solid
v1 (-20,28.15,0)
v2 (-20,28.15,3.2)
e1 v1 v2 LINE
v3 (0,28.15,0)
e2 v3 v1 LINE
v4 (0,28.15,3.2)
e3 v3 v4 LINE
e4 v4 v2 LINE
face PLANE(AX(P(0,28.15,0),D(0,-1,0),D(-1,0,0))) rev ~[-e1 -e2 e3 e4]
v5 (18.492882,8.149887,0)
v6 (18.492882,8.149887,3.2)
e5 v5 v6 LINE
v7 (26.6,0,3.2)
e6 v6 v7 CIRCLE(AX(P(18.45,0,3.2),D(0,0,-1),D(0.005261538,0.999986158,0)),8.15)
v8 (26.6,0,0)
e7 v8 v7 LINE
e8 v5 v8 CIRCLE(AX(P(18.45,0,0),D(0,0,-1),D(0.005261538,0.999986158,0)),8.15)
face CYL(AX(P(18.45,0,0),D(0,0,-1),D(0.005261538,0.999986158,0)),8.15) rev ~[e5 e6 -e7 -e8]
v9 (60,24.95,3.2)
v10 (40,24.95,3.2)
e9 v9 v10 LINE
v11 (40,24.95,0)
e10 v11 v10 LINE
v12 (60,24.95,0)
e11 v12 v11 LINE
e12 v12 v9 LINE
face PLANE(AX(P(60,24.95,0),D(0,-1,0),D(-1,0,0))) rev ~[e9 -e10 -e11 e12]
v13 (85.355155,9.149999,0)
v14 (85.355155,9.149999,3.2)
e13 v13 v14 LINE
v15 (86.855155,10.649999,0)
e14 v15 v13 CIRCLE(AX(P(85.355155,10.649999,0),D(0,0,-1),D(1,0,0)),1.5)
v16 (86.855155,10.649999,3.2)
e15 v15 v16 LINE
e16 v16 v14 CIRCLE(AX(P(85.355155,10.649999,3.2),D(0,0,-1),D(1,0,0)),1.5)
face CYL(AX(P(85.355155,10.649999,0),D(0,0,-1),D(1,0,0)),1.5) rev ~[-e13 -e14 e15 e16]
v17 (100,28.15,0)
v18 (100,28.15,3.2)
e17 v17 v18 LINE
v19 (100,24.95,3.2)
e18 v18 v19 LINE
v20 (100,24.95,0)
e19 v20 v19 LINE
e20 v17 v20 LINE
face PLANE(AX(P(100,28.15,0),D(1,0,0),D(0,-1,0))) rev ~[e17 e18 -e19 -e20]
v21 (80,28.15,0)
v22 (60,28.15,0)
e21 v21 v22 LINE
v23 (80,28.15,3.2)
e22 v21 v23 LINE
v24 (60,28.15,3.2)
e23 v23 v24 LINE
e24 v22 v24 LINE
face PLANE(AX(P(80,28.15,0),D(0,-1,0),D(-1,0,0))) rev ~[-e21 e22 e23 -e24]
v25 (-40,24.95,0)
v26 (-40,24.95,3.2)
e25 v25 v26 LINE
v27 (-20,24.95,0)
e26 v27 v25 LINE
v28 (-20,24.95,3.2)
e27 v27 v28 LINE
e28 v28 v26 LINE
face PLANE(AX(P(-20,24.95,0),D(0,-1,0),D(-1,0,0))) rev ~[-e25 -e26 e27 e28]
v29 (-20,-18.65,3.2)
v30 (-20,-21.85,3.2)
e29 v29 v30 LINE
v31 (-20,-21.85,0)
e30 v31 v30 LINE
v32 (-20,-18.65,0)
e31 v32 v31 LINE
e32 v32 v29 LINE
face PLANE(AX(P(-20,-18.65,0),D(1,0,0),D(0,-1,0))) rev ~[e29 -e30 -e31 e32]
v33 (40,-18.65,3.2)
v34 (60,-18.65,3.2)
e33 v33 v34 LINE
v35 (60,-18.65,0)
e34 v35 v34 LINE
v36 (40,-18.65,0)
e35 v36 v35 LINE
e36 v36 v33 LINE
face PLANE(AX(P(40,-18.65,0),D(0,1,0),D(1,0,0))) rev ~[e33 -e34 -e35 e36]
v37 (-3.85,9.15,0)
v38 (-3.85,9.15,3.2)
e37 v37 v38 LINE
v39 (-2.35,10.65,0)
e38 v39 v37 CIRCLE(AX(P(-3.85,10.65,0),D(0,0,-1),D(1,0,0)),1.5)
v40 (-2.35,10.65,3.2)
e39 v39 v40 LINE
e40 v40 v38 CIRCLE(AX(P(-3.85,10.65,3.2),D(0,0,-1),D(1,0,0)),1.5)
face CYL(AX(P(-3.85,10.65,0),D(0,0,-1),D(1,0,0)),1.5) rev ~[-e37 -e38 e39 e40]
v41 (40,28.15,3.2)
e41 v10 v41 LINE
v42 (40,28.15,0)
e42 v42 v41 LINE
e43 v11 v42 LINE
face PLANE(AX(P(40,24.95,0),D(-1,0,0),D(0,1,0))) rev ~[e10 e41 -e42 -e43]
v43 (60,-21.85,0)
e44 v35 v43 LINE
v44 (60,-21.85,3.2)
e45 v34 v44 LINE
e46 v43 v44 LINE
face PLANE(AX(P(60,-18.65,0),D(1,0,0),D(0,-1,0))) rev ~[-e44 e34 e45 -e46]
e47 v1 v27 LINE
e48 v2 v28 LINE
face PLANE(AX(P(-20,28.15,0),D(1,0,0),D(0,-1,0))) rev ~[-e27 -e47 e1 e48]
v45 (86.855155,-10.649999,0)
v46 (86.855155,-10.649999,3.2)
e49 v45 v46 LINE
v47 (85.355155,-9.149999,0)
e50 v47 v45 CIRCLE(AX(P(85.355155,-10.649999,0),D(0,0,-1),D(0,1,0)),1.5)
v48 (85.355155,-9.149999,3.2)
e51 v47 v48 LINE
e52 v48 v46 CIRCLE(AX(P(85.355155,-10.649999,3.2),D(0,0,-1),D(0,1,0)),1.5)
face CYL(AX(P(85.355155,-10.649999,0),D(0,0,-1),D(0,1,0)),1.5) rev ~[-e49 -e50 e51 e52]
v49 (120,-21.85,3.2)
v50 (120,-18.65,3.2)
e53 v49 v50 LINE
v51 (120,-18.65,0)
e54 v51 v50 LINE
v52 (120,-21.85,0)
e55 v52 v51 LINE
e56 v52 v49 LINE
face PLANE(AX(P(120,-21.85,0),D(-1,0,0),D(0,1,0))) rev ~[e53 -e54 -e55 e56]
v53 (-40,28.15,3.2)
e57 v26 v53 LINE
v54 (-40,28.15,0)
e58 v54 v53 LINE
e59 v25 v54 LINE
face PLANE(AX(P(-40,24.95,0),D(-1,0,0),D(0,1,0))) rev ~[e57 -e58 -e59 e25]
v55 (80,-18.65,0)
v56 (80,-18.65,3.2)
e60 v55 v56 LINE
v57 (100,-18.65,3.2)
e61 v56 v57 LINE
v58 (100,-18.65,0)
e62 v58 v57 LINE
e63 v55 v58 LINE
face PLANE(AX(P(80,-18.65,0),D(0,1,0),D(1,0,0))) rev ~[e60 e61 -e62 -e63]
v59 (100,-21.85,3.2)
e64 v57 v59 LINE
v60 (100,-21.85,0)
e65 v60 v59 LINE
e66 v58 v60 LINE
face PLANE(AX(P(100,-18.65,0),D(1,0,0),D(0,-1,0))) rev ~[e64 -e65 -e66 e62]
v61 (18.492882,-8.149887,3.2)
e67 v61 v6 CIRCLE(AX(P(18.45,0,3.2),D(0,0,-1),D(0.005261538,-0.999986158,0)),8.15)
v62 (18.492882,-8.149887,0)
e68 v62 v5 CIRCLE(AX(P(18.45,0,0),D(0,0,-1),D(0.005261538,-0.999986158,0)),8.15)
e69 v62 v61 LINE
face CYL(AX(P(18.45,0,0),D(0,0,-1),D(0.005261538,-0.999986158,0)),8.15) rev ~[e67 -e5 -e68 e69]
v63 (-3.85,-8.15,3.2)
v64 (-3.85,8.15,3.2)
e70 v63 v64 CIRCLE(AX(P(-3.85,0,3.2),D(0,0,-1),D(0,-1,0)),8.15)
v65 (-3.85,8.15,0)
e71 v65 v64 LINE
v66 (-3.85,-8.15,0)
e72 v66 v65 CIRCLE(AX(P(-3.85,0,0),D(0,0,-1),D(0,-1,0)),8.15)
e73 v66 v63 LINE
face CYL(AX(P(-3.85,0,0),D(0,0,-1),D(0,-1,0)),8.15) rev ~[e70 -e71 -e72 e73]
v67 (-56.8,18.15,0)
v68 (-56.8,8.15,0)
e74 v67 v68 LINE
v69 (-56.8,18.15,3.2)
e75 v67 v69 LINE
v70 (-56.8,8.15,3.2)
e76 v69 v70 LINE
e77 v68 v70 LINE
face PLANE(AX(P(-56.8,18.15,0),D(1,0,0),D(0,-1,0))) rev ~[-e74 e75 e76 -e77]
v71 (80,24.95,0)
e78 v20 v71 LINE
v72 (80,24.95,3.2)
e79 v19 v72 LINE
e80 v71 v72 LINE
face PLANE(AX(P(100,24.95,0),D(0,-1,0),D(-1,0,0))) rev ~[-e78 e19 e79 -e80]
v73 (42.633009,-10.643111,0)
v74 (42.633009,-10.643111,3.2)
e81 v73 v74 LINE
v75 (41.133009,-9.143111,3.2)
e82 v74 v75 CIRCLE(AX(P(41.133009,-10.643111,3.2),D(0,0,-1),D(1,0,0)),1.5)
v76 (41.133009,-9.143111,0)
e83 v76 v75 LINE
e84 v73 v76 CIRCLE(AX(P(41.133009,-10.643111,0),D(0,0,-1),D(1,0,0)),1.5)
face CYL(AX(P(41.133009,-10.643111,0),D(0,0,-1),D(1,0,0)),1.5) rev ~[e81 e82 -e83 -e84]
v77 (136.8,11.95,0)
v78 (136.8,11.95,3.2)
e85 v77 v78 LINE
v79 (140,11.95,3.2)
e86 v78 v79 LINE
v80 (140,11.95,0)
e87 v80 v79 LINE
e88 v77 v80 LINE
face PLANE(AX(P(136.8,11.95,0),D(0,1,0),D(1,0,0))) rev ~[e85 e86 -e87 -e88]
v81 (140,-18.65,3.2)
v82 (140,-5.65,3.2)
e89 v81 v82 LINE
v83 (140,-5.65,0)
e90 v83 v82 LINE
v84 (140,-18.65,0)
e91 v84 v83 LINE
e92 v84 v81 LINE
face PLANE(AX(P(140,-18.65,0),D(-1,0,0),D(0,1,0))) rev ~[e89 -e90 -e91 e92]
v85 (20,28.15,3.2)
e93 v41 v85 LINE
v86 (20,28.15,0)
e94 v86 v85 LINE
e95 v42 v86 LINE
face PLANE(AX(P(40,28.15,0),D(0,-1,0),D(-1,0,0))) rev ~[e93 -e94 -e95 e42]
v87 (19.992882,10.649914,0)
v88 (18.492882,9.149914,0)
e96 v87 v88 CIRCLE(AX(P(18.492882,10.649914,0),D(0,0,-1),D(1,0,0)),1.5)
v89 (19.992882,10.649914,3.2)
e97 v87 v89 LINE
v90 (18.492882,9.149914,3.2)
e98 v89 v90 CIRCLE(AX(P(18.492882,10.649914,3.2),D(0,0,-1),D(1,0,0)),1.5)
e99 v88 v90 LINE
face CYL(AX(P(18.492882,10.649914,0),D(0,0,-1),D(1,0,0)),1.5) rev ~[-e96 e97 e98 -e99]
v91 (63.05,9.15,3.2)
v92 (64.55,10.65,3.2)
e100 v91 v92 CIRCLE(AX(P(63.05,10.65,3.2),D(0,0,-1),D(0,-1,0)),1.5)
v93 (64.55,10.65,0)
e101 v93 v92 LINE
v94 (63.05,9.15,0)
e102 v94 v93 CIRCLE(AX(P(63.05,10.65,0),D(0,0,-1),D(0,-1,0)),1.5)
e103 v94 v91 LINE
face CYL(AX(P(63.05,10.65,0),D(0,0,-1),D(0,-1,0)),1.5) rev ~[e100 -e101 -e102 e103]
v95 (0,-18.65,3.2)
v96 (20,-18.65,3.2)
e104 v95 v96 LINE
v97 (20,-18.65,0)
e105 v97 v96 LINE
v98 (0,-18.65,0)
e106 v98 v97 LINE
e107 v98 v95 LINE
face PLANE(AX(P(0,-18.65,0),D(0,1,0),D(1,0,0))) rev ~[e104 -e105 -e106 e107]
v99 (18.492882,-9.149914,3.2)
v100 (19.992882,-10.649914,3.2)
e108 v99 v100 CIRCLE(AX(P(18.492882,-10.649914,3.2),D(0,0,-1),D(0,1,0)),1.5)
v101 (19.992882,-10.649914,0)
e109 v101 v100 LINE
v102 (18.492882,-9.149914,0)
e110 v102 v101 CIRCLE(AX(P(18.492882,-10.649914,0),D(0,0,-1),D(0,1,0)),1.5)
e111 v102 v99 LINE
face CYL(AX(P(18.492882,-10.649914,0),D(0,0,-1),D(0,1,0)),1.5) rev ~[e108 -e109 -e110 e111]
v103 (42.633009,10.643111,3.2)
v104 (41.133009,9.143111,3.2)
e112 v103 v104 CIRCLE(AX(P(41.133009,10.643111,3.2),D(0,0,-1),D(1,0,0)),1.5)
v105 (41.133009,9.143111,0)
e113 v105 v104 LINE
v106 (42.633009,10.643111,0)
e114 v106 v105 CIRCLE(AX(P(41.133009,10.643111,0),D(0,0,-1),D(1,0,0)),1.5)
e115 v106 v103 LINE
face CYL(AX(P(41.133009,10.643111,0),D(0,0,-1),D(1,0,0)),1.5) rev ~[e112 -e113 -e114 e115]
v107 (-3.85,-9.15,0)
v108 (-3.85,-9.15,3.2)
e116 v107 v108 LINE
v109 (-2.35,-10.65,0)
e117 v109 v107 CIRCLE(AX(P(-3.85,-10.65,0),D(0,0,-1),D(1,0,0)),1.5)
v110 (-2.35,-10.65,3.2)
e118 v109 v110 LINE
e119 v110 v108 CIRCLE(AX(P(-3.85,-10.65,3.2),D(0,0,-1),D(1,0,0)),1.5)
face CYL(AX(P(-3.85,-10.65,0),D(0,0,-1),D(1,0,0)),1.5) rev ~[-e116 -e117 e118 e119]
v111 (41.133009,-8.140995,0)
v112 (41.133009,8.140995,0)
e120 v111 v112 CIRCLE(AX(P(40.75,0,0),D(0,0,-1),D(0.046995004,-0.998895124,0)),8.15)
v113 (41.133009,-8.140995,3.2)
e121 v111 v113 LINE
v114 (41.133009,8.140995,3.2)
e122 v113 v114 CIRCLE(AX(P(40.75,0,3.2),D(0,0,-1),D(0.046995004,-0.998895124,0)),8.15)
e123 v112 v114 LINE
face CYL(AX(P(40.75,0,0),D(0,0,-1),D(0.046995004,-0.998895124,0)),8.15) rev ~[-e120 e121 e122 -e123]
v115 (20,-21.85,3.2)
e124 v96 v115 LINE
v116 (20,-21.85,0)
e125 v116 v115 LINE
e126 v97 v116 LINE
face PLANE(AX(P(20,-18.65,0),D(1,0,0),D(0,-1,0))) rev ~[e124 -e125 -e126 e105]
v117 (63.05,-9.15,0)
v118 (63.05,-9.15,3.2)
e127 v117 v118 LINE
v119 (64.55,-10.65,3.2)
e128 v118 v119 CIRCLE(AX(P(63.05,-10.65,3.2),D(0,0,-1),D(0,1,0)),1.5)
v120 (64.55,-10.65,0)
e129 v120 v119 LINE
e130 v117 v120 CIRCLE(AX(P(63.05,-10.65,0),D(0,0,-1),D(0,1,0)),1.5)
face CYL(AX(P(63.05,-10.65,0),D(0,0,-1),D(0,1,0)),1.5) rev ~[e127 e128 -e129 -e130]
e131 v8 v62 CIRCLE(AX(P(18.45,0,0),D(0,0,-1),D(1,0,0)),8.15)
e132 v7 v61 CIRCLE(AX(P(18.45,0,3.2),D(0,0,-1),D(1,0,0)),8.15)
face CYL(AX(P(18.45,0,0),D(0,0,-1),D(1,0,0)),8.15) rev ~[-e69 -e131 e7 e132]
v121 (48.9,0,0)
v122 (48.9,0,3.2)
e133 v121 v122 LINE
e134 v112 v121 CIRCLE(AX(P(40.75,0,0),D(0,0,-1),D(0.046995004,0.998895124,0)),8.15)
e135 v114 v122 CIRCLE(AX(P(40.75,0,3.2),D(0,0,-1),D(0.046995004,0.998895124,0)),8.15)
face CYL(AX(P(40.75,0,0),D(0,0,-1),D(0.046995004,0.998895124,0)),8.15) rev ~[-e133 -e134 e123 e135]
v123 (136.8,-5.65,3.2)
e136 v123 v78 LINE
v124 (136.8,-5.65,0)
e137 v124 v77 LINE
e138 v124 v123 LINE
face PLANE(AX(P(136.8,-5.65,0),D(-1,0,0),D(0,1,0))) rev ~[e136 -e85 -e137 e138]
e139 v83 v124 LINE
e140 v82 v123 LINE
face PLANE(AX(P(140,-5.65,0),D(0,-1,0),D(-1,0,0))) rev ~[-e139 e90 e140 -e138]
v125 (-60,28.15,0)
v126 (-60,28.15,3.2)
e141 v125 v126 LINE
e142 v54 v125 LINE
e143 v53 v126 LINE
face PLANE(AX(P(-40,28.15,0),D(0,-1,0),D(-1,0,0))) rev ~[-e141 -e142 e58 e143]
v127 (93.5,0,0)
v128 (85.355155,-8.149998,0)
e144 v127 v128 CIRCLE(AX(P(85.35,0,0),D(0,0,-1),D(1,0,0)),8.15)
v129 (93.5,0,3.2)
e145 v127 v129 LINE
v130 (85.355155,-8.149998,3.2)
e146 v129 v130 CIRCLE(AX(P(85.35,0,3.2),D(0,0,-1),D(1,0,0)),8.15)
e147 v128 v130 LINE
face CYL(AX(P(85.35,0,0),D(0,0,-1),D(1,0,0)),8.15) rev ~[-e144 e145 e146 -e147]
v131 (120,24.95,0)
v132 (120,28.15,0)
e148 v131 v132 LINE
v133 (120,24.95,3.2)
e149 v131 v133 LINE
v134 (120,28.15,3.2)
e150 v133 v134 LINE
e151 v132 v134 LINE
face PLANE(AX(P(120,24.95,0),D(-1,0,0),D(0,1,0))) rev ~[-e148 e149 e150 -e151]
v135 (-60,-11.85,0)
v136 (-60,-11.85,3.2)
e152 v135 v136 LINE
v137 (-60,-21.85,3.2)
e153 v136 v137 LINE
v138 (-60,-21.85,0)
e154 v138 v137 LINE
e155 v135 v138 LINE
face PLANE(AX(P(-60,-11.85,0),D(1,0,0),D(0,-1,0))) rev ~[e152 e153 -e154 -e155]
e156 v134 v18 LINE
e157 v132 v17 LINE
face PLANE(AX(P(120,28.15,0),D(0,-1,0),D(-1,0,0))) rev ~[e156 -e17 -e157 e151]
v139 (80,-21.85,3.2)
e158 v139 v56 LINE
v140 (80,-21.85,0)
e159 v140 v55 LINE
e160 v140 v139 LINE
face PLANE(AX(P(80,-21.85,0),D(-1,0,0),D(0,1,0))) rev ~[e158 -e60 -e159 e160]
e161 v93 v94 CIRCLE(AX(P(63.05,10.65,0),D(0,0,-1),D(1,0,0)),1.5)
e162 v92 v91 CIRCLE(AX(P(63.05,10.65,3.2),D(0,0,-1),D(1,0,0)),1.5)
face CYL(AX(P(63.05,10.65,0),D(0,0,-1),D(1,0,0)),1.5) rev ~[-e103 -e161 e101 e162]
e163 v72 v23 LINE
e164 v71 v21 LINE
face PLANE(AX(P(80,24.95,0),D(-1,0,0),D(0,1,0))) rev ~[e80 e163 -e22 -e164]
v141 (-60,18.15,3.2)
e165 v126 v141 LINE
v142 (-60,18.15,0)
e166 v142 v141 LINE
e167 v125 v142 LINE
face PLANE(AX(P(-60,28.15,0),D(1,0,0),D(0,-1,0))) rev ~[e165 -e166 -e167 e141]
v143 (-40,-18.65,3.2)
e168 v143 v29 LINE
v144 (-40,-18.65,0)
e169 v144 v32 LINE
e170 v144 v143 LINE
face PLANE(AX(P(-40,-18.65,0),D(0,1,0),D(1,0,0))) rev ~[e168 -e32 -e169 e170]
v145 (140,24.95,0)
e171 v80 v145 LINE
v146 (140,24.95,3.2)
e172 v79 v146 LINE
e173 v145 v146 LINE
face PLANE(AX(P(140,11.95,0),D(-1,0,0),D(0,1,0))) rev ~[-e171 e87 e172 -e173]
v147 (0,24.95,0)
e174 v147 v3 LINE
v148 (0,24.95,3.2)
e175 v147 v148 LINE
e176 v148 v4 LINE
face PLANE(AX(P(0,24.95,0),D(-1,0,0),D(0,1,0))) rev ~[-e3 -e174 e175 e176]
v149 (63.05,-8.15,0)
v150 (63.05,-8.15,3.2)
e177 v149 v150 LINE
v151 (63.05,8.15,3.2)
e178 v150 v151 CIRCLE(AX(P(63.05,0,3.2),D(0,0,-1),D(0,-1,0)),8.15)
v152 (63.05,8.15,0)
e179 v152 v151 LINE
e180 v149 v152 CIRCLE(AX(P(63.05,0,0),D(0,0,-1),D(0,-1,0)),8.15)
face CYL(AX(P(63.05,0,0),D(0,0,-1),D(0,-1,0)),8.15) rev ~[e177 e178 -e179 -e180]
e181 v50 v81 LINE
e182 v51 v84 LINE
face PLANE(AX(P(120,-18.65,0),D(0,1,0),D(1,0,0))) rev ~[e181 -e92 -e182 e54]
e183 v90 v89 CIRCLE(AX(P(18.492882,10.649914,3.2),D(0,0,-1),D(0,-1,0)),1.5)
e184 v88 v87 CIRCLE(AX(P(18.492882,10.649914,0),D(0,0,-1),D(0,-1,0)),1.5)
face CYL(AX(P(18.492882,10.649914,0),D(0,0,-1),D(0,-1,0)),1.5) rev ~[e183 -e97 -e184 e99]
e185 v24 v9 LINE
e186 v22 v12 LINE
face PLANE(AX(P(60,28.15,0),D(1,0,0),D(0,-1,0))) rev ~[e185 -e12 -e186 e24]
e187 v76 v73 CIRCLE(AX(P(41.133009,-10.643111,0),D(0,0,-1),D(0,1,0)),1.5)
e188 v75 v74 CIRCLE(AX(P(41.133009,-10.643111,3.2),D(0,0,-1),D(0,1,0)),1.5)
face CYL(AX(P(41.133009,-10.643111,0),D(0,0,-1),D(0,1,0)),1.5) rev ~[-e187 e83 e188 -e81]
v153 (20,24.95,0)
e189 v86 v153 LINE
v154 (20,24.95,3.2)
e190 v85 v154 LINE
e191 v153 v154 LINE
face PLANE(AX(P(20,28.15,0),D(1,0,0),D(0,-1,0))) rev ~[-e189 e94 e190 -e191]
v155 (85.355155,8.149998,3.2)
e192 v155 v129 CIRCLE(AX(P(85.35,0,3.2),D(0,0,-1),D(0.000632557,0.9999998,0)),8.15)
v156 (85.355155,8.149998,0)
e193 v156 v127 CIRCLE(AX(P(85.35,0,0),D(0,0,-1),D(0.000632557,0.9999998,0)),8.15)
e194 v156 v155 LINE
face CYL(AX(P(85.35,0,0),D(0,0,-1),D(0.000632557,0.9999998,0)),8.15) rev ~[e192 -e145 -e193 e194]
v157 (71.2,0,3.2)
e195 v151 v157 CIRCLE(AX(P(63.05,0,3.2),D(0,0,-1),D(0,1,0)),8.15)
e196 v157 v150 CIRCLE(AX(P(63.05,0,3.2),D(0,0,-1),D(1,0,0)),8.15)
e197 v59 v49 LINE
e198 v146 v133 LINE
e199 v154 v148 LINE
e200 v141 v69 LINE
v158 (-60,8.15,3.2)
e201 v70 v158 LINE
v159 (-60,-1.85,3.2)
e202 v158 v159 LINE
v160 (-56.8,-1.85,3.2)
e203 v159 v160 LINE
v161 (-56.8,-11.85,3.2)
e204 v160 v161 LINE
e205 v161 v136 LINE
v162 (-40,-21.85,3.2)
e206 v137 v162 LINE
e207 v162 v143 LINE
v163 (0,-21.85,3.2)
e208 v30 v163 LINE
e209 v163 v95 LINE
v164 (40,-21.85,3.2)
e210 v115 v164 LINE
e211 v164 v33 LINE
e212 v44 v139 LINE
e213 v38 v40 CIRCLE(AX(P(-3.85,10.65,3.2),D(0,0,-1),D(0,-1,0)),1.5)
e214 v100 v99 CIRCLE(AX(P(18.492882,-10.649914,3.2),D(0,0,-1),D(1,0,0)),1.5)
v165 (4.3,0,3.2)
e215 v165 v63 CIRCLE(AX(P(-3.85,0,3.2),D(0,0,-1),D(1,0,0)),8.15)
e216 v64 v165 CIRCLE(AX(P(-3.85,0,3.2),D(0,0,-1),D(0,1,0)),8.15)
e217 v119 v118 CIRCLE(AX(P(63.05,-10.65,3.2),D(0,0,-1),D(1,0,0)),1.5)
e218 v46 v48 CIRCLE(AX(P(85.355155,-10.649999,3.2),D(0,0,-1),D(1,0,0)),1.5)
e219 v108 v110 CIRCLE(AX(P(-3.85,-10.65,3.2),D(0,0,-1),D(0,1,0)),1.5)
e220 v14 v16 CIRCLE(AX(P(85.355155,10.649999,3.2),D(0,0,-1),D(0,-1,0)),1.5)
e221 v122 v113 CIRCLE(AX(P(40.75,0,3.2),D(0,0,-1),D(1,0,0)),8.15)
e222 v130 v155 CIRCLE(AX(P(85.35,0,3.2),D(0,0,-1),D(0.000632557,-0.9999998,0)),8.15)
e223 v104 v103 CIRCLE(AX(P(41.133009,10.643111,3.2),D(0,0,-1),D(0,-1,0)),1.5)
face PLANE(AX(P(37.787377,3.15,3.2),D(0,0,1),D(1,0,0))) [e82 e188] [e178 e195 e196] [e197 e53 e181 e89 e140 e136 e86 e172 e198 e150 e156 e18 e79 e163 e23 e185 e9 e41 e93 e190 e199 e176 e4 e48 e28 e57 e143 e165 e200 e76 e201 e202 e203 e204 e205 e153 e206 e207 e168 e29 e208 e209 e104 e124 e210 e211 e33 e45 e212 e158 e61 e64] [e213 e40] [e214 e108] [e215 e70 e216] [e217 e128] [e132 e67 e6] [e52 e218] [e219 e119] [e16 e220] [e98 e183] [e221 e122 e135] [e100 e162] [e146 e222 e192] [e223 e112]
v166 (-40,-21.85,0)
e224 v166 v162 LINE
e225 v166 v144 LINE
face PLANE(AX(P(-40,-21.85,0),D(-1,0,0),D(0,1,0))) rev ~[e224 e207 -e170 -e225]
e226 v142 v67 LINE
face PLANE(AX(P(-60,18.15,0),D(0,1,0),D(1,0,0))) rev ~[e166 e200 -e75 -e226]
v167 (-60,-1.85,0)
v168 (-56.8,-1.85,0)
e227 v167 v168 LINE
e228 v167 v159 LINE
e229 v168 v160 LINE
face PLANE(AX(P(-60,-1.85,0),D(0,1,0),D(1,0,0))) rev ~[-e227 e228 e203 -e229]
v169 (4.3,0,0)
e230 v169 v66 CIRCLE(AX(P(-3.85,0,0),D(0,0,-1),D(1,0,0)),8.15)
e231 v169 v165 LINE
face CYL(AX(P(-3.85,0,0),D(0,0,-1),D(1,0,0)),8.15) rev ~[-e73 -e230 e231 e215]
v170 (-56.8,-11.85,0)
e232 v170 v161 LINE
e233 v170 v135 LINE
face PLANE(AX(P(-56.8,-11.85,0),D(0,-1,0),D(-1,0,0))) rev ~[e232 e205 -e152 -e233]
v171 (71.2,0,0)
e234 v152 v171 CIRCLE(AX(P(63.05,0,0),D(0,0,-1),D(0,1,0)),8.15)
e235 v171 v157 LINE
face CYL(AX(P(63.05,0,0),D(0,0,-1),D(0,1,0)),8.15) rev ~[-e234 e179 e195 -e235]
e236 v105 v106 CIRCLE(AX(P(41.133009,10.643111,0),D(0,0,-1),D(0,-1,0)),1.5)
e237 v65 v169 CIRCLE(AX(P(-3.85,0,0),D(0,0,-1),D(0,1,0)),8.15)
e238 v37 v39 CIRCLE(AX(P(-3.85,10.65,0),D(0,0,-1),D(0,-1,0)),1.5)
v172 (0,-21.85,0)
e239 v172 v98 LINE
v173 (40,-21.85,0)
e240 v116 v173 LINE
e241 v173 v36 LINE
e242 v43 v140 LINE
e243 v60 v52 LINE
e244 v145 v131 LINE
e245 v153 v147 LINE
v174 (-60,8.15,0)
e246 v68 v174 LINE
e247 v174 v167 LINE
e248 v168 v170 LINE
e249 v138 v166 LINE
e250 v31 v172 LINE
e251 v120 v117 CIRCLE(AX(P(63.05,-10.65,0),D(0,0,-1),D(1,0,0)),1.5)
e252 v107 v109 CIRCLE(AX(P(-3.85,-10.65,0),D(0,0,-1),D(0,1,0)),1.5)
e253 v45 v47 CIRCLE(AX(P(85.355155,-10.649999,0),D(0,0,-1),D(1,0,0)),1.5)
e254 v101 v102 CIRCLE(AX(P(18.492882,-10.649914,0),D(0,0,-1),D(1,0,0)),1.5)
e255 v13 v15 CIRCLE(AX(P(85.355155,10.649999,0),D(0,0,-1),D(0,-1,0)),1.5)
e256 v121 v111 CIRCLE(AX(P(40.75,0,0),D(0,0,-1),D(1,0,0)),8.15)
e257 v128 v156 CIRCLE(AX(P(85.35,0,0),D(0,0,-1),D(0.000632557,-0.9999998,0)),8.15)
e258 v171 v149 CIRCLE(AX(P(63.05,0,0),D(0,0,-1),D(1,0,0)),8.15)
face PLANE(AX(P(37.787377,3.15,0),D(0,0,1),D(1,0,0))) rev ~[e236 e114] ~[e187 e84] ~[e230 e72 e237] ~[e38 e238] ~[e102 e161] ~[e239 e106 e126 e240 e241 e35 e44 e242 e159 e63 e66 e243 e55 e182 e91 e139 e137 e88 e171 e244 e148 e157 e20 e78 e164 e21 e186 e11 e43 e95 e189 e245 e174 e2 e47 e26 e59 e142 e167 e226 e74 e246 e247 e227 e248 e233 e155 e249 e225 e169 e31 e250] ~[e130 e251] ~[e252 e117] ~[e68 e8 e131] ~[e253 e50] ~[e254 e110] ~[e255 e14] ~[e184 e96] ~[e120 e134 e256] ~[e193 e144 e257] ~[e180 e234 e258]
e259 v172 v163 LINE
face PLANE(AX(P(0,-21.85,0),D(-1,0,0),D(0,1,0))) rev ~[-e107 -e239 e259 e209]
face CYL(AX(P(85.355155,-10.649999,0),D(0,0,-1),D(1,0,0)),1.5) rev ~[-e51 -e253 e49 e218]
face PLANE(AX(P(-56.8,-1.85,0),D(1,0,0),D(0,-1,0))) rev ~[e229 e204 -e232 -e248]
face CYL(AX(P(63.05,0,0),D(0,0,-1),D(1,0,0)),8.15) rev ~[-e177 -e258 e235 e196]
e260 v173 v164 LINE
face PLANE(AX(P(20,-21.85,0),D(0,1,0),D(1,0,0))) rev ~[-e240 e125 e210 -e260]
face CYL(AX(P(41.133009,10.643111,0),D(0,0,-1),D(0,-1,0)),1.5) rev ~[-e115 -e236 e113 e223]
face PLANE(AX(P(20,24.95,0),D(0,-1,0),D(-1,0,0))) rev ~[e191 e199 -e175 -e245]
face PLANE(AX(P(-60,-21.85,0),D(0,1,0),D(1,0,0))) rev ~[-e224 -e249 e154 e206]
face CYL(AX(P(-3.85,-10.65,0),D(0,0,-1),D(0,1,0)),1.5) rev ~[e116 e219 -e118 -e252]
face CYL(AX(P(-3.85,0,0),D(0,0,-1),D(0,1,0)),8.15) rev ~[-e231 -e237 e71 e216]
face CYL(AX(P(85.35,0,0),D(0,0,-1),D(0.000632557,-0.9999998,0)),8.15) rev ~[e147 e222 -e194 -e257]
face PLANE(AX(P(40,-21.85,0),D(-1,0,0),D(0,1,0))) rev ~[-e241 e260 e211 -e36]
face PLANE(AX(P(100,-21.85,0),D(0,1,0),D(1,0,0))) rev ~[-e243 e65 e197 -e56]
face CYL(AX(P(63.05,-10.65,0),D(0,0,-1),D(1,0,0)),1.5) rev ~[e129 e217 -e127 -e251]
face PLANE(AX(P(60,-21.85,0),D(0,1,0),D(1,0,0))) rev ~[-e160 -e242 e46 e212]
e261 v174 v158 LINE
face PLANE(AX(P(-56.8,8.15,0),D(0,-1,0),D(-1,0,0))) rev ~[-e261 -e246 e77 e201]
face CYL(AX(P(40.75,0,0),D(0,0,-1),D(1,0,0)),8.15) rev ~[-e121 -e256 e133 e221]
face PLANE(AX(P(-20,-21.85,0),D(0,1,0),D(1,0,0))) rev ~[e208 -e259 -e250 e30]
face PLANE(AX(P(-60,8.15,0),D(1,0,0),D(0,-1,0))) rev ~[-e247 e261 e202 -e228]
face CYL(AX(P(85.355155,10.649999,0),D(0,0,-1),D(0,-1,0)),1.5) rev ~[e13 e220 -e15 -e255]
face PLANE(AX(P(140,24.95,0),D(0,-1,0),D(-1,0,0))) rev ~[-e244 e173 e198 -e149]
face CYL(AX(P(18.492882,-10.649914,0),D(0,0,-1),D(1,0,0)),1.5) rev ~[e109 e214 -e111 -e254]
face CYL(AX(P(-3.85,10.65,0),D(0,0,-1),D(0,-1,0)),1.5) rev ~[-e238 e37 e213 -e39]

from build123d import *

# Parameters (mm, degrees)
F1_DEPTH = 3.2


with BuildPart() as f1:
    # F0 (on Top) → F1 (new body)
    with BuildSketch(Plane.XY):
        Polygon((-40, 28.15), (-60, 28.15), (-60, 18.15), (-56.8, 18.15), (-56.8, 8.15), (-60, 8.15), (-60, -1.85), (-56.8, -1.85), (-56.8, -11.85), (-60, -11.85), (-60, -21.85), (-40, -21.85), (-40, -18.65), (-20, -18.65), (-20, -21.85), (0, -21.85), (0, -18.65), (20, -18.65), (20, -21.85), (40, -21.85), (40, -18.65), (60, -18.65), (60, -21.85), (80, -21.85), (80, -18.65), (100, -18.65), (100, -21.85), (120, -21.85), (120, -18.65), (140, -18.65), (140, -5.65), (136.8, -5.65), (136.8, 11.95), (140, 11.95), (140, 24.95), (120, 24.95), (120, 28.15), (100, 28.15), (100, 24.95), (80, 24.95), (80, 28.15), (60, 28.15), (60, 24.95), (40, 24.95), (40, 28.15), (20, 28.15), (20, 24.95), (0, 24.95), (0, 28.15), (-20, 28.15), (-20, 24.95), (-40, 24.95), align=None)
        with BuildLine():
            ThreePointArc((-2.35, -10.65), (-4.9106601718, -11.7106601718), (-3.85, -9.15))
            ThreePointArc((-3.85, -9.15), (-2.7893398282, -9.5893398282), (-2.35, -10.65))
        make_face(mode=Mode.SUBTRACT)
        with BuildLine():
            ThreePointArc((19.9928815383, -10.6499136698), (17.4322213665, -11.7105738416), (18.4928815383, -9.1499136698))
            ThreePointArc((18.4928815383, -9.1499136698), (19.55354171, -9.589253498), (19.9928815383, -10.6499136698))
        make_face(mode=Mode.SUBTRACT)
        with BuildLine():
            ThreePointArc((-3.85, 8.15), (1.9129202667, 5.7629202667), (4.3, 0))
            ThreePointArc((4.3, 0), (1.9129202667, -5.7629202667), (-3.85, -8.15))
            ThreePointArc((-3.85, -8.15), (-12, 0), (-3.85, 8.15))
        make_face(mode=Mode.SUBTRACT)
        with BuildLine():
            ThreePointArc((18.4928815383, 8.1498871878), (24.2280612898, 5.7477393584), (26.6, 0))
            ThreePointArc((26.6, 0), (24.2280612898, -5.7477393584), (18.4928815383, -8.1498871878))
            ThreePointArc((18.4928815383, -8.1498871878), (10.3, 0), (18.4928815383, 8.1498871878))
        make_face(mode=Mode.SUBTRACT)
        with BuildLine():
            ThreePointArc((42.6330092816, -10.6431106304), (40.0723491098, -11.7037708021), (41.1330092816, -9.1431106304))
            ThreePointArc((41.1330092816, -9.1431106304), (42.1936694534, -9.5824504586), (42.6330092816, -10.6431106304))
        make_face(mode=Mode.SUBTRACT)
        with BuildLine():
            ThreePointArc((64.55, -10.65), (61.9893398282, -11.7106601718), (63.05, -9.15))
            ThreePointArc((63.05, -9.15), (64.1106601718, -9.5893398282), (64.55, -10.65))
        make_face(mode=Mode.SUBTRACT)
        with BuildLine():
            ThreePointArc((86.8551553416, -10.6499987522), (84.2944951698, -11.710658924), (85.3551553416, -9.1499987522))
            ThreePointArc((85.3551553416, -9.1499987522), (86.4158155134, -9.5893385804), (86.8551553416, -10.6499987522))
        make_face(mode=Mode.SUBTRACT)
        with BuildLine():
            ThreePointArc((41.1330092816, 8.1409952641), (46.6467798689, 5.6258765697), (48.9, 0))
            ThreePointArc((48.9, 0), (46.6467798689, -5.6258765697), (41.1330092816, -8.1409952641))
            ThreePointArc((41.1330092816, -8.1409952641), (32.6, 0), (41.1330092816, 8.1409952641))
        make_face(mode=Mode.SUBTRACT)
        with BuildLine():
            ThreePointArc((63.05, 8.15), (68.8129202667, 5.7629202667), (71.2, 0))
            ThreePointArc((71.2, 0), (68.8129202667, -5.7629202667), (63.05, -8.15))
            ThreePointArc((63.05, -8.15), (54.9, 0), (63.05, 8.15))
        make_face(mode=Mode.SUBTRACT)
        with BuildLine():
            ThreePointArc((85.3551553416, 8.1499983695), (91.114742667, 5.7610972898), (93.5, 0))
            ThreePointArc((93.5, 0), (91.114742667, -5.7610972898), (85.3551553416, -8.1499983695))
            ThreePointArc((85.3551553416, -8.1499983695), (77.2, 0), (85.3551553416, 8.1499983695))
        make_face(mode=Mode.SUBTRACT)
        with BuildLine():
            ThreePointArc((-2.35, 10.65), (-2.7893398282, 9.5893398282), (-3.85, 9.15))
            ThreePointArc((-3.85, 9.15), (-4.9106601718, 11.7106601718), (-2.35, 10.65))
        make_face(mode=Mode.SUBTRACT)
        with BuildLine():
            ThreePointArc((19.9928815383, 10.6499136698), (19.55354171, 9.589253498), (18.4928815383, 9.1499136698))
            ThreePointArc((18.4928815383, 9.1499136698), (17.4322213665, 11.7105738416), (19.9928815383, 10.6499136698))
        make_face(mode=Mode.SUBTRACT)
        with BuildLine():
            ThreePointArc((42.6330092816, 10.6431106304), (42.1936694534, 9.5824504586), (41.1330092816, 9.1431106304))
            ThreePointArc((41.1330092816, 9.1431106304), (40.0723491098, 11.7037708021), (42.6330092816, 10.6431106304))
        make_face(mode=Mode.SUBTRACT)
        with BuildLine():
            ThreePointArc((64.55, 10.65), (64.1106601718, 9.5893398282), (63.05, 9.15))
            ThreePointArc((63.05, 9.15), (61.9893398282, 11.7106601718), (64.55, 10.65))
        make_face(mode=Mode.SUBTRACT)
        with BuildLine():
            ThreePointArc((86.8551553416, 10.6499987522), (86.4158155134, 9.5893385804), (85.3551553416, 9.1499987522))
            ThreePointArc((85.3551553416, 9.1499987522), (84.2944951698, 11.710658924), (86.8551553416, 10.6499987522))
        make_face(mode=Mode.SUBTRACT)
    extrude(amount=F1_DEPTH)


solid = f1.part
